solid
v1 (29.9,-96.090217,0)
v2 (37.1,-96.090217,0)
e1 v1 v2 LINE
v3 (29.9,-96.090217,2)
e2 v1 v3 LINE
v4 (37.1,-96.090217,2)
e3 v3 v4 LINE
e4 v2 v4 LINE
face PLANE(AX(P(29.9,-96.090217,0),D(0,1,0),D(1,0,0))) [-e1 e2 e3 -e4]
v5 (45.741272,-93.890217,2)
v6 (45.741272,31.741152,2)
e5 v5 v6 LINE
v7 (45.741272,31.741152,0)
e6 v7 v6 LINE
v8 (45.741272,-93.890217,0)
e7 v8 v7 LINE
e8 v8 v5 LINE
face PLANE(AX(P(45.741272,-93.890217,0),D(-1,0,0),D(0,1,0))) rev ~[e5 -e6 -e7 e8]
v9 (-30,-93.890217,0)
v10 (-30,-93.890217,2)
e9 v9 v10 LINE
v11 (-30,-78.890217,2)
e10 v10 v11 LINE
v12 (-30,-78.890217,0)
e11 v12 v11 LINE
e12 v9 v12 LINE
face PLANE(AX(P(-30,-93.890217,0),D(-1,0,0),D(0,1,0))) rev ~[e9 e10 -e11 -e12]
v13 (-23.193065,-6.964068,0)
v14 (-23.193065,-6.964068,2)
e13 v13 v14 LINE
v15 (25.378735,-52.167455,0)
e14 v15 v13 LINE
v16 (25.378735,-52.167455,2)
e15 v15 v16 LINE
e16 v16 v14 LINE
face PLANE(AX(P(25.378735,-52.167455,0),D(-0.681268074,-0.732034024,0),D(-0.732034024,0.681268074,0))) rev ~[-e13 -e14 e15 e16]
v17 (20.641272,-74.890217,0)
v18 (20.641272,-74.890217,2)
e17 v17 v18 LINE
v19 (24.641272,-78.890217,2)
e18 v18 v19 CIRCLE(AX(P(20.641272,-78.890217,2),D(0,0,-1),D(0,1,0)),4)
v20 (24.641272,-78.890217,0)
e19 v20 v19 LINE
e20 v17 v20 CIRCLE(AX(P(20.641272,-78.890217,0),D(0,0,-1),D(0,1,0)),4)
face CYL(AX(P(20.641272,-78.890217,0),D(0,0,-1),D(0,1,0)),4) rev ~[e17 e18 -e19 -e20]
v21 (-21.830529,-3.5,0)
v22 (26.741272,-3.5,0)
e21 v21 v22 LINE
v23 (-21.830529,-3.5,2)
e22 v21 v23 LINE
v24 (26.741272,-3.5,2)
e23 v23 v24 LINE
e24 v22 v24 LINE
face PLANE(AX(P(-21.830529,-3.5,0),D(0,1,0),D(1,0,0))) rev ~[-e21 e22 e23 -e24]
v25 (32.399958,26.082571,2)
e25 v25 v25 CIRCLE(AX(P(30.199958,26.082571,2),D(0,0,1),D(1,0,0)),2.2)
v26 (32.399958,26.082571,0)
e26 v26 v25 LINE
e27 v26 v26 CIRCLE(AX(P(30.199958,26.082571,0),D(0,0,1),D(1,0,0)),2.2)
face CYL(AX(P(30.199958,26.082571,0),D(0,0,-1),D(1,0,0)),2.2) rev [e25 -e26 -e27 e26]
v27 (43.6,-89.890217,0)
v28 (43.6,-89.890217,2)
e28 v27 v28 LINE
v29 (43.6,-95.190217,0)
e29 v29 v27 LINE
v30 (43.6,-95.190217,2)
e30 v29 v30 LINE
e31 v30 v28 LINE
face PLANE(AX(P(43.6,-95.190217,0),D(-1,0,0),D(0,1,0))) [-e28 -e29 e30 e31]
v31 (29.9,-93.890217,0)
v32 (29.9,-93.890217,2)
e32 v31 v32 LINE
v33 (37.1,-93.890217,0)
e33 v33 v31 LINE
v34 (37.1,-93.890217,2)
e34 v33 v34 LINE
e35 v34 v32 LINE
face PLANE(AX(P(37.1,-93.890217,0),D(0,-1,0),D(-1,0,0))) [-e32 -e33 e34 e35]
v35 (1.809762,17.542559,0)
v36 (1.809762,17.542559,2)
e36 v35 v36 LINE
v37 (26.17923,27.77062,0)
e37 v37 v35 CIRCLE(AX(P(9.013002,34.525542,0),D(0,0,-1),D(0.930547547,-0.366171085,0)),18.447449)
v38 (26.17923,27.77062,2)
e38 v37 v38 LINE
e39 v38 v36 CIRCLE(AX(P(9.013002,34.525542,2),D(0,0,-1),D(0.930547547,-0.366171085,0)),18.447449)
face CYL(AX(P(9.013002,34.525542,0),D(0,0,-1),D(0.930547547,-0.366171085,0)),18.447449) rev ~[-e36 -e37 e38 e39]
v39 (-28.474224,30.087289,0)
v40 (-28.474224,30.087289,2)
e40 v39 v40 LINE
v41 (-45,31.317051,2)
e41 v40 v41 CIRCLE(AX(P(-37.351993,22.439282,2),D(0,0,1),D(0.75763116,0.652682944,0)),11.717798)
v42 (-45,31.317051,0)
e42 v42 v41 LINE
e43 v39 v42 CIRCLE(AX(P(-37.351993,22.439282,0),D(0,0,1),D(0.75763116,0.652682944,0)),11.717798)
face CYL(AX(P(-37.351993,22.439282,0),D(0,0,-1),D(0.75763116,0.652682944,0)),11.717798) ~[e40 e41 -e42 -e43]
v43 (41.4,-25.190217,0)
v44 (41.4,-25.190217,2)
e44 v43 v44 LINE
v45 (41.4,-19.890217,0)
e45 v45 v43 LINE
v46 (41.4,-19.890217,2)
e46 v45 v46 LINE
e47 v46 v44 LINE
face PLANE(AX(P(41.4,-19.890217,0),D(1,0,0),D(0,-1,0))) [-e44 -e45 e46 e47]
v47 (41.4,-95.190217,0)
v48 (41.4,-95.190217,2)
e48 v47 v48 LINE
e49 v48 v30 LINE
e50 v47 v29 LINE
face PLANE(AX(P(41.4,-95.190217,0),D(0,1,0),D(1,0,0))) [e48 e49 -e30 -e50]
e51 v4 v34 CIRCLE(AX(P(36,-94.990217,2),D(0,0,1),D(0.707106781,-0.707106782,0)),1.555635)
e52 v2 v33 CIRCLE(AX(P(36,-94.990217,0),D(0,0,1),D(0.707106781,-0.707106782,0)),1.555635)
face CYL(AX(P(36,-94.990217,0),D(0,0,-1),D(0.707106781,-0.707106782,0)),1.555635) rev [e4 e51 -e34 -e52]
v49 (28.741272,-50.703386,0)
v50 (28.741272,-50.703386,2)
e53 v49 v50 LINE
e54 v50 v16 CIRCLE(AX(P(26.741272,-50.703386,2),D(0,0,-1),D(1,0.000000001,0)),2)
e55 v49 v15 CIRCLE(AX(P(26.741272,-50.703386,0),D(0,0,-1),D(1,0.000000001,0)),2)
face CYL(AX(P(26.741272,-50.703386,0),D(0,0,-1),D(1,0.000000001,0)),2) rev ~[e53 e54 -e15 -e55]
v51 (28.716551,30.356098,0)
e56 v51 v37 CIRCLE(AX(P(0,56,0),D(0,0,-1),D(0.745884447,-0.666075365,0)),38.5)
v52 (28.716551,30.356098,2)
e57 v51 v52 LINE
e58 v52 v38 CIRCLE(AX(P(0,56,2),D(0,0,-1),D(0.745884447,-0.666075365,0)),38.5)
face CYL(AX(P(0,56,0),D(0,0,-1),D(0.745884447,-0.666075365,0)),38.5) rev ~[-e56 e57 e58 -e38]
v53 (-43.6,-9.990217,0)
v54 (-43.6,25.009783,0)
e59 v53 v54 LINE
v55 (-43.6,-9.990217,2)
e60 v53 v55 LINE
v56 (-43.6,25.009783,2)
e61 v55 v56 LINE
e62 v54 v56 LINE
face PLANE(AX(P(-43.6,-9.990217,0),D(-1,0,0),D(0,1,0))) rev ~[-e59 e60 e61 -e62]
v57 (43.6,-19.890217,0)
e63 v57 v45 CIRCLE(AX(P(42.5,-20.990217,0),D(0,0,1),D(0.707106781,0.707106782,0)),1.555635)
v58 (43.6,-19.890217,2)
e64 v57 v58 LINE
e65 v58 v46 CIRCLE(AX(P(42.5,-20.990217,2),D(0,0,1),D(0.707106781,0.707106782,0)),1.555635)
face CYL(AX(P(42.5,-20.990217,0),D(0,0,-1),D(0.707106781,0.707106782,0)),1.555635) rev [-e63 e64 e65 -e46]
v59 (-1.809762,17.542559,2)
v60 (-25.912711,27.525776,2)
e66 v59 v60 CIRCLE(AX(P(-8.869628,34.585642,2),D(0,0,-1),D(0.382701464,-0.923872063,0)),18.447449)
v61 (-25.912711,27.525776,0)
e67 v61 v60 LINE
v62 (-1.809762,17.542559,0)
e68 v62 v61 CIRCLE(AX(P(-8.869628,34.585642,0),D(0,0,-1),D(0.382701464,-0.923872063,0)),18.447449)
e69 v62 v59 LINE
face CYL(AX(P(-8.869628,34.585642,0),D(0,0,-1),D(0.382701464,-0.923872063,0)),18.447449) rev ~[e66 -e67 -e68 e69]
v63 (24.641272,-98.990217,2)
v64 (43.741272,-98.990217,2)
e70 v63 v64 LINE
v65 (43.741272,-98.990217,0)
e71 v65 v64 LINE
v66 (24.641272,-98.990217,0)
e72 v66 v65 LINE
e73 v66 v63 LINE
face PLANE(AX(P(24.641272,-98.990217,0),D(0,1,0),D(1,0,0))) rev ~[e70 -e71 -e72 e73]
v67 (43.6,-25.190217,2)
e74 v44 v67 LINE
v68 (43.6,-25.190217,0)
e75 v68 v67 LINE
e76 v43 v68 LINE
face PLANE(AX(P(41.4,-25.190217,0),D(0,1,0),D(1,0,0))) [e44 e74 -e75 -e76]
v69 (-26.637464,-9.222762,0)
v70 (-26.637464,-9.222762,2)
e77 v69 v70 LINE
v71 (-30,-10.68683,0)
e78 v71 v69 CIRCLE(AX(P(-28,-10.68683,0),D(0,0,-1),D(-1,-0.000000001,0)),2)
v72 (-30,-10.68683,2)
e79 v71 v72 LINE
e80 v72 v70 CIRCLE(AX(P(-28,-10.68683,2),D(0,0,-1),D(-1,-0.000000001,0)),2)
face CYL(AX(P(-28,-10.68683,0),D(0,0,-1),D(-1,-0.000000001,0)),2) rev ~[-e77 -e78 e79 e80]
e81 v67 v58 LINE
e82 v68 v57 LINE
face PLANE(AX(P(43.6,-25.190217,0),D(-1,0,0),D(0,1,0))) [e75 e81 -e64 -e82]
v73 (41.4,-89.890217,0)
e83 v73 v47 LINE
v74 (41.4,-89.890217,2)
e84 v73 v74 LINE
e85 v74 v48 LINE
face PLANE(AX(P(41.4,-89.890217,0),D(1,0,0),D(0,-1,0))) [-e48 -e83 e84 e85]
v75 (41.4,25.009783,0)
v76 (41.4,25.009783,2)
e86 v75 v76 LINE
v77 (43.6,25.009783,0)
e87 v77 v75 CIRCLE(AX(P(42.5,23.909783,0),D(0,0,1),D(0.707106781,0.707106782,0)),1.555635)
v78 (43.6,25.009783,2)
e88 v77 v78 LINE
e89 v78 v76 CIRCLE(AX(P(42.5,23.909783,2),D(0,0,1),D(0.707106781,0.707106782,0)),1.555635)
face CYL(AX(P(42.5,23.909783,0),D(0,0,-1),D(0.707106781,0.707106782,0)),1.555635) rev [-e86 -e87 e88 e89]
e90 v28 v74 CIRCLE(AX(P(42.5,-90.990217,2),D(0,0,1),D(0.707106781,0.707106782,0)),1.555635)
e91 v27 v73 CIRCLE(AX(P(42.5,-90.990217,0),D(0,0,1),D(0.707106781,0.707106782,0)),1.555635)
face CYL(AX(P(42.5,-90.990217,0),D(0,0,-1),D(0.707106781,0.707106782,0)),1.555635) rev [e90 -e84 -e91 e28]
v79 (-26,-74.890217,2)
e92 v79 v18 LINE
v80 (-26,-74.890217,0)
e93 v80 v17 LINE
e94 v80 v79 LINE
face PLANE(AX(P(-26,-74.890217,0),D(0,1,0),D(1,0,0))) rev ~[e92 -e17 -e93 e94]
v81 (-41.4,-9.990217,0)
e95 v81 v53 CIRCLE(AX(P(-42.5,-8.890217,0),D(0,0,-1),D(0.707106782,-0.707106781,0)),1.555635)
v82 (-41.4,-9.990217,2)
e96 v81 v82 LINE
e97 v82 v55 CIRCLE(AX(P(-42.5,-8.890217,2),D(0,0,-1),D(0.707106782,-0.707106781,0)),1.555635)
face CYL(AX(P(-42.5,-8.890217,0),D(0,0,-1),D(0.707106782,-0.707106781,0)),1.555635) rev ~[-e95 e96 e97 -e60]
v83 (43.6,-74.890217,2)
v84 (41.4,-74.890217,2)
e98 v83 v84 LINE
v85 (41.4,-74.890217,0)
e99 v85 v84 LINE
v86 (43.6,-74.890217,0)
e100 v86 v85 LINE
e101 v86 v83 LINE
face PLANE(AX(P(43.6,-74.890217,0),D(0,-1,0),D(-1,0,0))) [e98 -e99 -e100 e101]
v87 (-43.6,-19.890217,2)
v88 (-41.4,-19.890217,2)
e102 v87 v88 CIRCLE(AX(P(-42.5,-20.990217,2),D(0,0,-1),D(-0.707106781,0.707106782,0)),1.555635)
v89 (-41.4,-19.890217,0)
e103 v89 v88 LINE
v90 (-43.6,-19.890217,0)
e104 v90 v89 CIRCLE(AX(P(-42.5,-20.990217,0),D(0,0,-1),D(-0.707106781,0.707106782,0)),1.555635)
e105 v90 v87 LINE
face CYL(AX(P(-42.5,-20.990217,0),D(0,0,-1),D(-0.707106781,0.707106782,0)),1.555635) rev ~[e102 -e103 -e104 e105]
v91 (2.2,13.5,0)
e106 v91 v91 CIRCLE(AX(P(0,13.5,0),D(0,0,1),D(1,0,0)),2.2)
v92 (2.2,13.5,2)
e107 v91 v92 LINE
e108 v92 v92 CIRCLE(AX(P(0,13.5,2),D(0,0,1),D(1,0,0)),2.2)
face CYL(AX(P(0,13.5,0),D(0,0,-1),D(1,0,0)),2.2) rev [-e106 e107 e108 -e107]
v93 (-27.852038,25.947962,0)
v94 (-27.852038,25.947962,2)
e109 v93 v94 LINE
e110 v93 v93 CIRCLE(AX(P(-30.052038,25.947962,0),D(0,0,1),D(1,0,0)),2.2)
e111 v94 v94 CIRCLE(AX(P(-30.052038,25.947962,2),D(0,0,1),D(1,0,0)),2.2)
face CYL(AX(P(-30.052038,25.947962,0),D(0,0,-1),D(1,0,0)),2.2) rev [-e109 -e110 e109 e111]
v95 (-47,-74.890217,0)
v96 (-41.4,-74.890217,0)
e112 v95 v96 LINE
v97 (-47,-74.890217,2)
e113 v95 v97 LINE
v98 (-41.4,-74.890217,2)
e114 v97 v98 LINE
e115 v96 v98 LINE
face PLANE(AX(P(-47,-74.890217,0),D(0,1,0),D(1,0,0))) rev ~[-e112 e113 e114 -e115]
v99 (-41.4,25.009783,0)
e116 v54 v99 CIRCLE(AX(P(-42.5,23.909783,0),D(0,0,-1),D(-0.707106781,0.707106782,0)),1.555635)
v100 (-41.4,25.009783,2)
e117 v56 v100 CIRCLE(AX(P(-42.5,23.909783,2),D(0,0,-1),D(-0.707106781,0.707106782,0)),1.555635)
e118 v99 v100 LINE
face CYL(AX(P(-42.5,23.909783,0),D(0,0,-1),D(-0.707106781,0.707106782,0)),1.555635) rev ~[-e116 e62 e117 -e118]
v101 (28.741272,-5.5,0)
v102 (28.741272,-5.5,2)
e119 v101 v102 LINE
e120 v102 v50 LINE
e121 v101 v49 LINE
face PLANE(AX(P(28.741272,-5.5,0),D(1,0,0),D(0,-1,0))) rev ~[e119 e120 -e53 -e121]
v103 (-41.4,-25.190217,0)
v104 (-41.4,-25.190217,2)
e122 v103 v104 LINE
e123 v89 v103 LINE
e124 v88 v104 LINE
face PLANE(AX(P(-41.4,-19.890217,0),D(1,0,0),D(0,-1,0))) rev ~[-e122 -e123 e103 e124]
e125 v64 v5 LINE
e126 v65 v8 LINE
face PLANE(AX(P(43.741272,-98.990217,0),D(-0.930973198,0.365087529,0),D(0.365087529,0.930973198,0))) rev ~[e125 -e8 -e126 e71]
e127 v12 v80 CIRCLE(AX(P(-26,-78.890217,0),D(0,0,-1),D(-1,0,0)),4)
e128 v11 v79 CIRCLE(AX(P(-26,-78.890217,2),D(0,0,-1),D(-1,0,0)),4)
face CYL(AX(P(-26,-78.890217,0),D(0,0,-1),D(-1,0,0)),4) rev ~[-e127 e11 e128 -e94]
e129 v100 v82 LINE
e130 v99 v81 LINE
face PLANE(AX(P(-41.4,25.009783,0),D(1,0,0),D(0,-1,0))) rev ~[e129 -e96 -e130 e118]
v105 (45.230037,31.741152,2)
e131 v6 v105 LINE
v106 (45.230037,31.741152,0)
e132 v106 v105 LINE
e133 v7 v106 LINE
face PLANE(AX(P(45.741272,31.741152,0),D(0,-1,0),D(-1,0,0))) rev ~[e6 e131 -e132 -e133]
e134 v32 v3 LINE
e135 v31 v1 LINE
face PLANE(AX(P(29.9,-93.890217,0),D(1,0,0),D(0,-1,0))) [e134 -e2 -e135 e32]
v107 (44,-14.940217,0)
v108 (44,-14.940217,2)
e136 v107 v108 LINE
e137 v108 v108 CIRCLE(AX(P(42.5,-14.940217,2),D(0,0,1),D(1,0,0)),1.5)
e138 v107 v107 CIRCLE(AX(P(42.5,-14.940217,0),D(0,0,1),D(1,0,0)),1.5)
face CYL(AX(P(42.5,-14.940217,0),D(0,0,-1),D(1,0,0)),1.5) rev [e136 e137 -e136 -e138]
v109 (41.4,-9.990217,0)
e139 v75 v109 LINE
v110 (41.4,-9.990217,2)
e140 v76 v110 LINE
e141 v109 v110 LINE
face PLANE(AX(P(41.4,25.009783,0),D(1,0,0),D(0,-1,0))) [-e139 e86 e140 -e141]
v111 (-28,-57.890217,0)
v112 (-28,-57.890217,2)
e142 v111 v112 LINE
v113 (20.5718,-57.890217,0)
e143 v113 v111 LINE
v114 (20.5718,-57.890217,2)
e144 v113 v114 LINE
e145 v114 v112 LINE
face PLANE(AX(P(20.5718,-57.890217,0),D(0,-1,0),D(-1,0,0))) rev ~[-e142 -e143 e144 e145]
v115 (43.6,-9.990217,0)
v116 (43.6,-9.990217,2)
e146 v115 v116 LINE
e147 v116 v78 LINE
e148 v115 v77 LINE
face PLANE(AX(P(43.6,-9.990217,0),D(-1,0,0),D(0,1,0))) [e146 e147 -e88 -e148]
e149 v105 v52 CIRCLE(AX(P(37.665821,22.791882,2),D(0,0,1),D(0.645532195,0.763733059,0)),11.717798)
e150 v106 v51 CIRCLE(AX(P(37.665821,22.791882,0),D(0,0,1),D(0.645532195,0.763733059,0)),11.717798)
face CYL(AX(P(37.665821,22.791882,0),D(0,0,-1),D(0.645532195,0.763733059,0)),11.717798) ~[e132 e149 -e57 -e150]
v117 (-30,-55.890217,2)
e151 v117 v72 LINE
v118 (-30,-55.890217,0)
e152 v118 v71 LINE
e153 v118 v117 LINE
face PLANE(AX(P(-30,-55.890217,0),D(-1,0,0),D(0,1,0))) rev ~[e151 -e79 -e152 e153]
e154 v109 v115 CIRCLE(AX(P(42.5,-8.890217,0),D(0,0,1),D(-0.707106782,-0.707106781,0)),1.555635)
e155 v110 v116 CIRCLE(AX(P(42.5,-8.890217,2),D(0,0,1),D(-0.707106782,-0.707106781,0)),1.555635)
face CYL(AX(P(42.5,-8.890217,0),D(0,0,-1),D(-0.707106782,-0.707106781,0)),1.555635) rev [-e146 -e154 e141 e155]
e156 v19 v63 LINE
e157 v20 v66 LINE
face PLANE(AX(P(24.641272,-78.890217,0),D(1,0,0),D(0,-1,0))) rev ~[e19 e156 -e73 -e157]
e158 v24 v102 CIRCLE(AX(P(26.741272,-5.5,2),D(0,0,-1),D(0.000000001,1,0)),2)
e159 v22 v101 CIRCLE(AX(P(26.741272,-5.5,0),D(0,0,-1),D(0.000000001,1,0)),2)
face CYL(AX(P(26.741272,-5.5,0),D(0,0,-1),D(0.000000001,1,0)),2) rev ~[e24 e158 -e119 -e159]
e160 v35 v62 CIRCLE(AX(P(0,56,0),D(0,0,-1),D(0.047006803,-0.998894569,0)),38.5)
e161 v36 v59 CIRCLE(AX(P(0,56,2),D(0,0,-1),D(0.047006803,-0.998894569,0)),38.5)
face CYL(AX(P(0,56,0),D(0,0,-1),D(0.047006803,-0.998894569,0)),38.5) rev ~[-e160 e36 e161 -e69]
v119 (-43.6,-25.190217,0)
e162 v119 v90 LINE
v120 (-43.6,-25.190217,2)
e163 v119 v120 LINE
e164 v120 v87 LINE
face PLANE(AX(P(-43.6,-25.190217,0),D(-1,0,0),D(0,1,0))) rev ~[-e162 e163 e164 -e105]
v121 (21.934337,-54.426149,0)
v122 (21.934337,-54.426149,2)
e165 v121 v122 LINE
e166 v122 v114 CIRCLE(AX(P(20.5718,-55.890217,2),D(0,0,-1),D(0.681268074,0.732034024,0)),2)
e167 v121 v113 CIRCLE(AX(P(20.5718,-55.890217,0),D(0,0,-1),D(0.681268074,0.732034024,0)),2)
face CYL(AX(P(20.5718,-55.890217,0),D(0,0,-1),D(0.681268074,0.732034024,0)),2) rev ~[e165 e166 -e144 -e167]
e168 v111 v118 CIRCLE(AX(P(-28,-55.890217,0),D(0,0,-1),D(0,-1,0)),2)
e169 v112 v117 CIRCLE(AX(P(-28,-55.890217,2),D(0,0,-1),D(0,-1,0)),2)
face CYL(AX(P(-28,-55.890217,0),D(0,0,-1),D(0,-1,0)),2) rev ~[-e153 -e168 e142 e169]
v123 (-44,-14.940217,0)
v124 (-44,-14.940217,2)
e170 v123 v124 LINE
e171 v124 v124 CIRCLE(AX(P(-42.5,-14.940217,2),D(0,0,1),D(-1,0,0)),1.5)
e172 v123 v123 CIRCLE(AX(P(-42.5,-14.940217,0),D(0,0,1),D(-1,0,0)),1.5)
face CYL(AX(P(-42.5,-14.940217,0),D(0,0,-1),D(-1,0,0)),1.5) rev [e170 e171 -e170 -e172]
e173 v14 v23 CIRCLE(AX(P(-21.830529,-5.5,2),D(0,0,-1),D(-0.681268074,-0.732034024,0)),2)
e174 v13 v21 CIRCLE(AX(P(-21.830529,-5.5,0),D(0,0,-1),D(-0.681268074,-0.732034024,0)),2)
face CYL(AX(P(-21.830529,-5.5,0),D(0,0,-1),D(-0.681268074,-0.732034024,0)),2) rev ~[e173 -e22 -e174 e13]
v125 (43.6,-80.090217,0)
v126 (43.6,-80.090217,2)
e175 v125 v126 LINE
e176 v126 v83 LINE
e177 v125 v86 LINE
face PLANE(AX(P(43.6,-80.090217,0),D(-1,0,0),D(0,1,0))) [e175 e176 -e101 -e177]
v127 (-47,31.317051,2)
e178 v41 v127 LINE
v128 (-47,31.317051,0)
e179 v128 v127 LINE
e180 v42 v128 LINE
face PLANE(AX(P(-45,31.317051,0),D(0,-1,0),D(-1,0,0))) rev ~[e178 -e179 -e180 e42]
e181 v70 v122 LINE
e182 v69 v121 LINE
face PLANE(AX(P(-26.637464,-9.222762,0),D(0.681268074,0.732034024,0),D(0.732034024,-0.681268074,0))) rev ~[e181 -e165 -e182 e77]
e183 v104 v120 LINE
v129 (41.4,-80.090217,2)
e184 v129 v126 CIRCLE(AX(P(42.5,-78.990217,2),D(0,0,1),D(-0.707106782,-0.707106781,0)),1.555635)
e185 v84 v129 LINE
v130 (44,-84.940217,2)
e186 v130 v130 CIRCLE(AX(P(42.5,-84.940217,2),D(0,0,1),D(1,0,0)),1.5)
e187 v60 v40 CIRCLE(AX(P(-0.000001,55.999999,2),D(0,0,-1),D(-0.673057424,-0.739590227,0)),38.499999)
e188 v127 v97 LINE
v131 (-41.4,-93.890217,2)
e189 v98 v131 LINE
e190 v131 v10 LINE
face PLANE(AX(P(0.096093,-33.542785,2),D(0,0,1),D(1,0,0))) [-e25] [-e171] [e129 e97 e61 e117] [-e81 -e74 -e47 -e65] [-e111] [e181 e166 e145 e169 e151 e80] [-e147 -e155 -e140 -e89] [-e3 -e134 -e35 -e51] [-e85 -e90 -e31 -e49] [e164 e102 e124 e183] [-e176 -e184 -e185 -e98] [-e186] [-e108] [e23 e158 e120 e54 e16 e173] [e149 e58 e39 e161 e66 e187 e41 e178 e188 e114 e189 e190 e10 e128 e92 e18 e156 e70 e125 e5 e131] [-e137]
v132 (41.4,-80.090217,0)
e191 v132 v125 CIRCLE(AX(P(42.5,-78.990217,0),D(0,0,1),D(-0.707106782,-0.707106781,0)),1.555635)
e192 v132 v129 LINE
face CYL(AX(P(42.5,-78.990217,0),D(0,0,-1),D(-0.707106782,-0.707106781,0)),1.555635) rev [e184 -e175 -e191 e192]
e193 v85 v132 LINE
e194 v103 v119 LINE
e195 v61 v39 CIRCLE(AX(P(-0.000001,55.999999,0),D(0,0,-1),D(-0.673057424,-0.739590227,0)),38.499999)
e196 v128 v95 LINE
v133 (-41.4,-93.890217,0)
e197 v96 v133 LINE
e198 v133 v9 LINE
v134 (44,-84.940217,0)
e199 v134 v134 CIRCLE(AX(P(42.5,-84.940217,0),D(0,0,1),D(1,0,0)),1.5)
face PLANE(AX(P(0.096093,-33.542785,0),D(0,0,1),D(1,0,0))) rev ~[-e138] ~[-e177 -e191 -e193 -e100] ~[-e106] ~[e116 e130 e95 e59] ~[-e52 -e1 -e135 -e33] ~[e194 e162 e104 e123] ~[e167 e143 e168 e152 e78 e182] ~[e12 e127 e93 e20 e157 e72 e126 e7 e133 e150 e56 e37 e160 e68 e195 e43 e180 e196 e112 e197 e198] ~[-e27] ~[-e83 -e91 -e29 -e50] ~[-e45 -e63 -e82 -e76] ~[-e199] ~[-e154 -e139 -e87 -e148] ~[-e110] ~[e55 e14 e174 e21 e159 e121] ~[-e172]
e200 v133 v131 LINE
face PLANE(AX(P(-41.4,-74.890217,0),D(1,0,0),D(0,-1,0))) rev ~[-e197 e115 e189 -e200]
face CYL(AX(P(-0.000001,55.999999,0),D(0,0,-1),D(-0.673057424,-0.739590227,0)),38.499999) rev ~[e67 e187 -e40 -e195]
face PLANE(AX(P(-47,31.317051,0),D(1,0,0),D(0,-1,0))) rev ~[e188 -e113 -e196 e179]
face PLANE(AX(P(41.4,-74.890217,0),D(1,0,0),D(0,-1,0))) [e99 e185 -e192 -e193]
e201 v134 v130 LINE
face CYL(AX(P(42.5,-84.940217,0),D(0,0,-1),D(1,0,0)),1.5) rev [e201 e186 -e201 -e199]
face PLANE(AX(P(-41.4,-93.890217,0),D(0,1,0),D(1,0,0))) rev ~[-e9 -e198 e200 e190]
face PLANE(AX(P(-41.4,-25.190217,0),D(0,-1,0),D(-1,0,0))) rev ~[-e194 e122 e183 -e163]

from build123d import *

# Parameters (mm, degrees)
SKETCH_3_R      = 2.2
SKETCH_3_R_2    = 1.5
EXTRUDE_1_DEPTH = 2


with BuildPart() as part:
    # 草图3 → 凸台-拉伸1 (new body)
    with BuildSketch(Plane.XY):
        with BuildLine():
            Line((-41.4, -74.890216685), (-41.4, -93.890216685))
            Line((-41.4, -93.890216685), (-30, -93.890216685))
            Line((-30, -93.890216685), (-30, -78.890216685))
            ThreePointArc((-30, -78.890216685), (-28.828427125, -76.061789561), (-26, -74.890216685))
            Line((-26, -74.890216685), (20.641271636, -74.890216685))
            ThreePointArc((20.641271636, -74.890216685), (23.469698761, -76.061789561), (24.641271636, -78.890216685))
            Line((24.641271636, -78.890216685), (24.641271636, -93.890216685))
            Line((24.641271636, -93.890216685), (24.641271636, -97.990216685))
            Line((24.641271636, -97.990216685), (24.641271636, -98.990216685))
            Line((24.641271636, -98.990216685), (43.741271636, -98.990216685))
            Line((43.741271636, -98.990216685), (45.741271636, -93.890216685))
            Line((45.741271636, -93.890216685), (45.741271636, 31.741152315))
            Line((45.741271636, 31.741152315), (45.230037269, 31.741152315))
            ThreePointArc((45.230037269, 31.741152315), (36.686440181, 34.468680322), (28.716551195, 30.356098435))
            ThreePointArc((28.716551195, 30.356098435), (27.478316584, 29.033500084), (26.179230338, 27.770619934))
            ThreePointArc((26.179230338, 27.770619934), (16.152230905, 17.515551518), (1.809761925, 17.542559084))
            ThreePointArc((1.809761925, 17.542559084), (0, 17.5), (-1.809761925, 17.542559084))
            ThreePointArc((-1.809761925, 17.542559084), (-15.928828372, 17.542283516), (-25.912710857, 27.525776288))
            ThreePointArc((-25.912710857, 27.525776288), (-27.223611076, 28.776388924), (-28.474223712, 30.087289143))
            ThreePointArc((-28.474223712, 30.087289143), (-36.482419799, 34.124770496), (-45, 31.317051182))
            Line((-45, 31.317051182), (-47, 31.317051182))
            Line((-47, 31.317051182), (-47, -74.890216685))
            Line((-47, -74.890216685), (-41.4, -74.890216685))
        make_face()
        with Locations((0, 13.5)):
            Circle(SKETCH_3_R, mode=Mode.SUBTRACT)
        with Locations((-30.052038202, 25.947961669)):
            Circle(SKETCH_3_R, mode=Mode.SUBTRACT)
        with Locations((30.199957913, 26.082571452)):
            Circle(SKETCH_3_R, mode=Mode.SUBTRACT)
        with Locations((42.5, -14.940216685)):
            Circle(SKETCH_3_R_2, mode=Mode.SUBTRACT)
        with Locations(Location((-42.5, -14.940216685, 0), (0, 0, 180))):
            Circle(SKETCH_3_R_2, mode=Mode.SUBTRACT)
        with Locations((42.5, -84.940216685)):
            Circle(SKETCH_3_R_2, mode=Mode.SUBTRACT)
        with BuildLine():
            Line((-43.6, -9.990216685), (-43.6, 25.009783315))
            ThreePointArc((-43.6, 25.009783315), (-42.5, 25.465418233), (-41.4, 25.009783315))
            Line((-41.4, 25.009783315), (-41.4, -9.990216685))
            ThreePointArc((-41.4, -9.990216685), (-42.5, -10.445851604), (-43.6, -9.990216685))
        make_face(mode=Mode.SUBTRACT)
        with BuildLine():
            Line((-41.4, -19.890216685), (-41.4, -25.190216685))
            Line((-41.4, -25.190216685), (-43.6, -25.190216685))
            Line((-43.6, -25.190216685), (-43.6, -19.890216685))
            ThreePointArc((-43.6, -19.890216685), (-42.5, -19.434581767), (-41.4, -19.890216685))
        make_face(mode=Mode.SUBTRACT)
        with BuildLine():
            Line((37.1, -93.890216685), (29.9, -93.890216685))
            Line((29.9, -93.890216685), (29.9, -96.090216685))
            Line((29.9, -96.090216685), (37.1, -96.090216685))
            ThreePointArc((37.1, -96.090216685), (37.555634919, -94.990216685), (37.1, -93.890216685))
        make_face(mode=Mode.SUBTRACT)
        with BuildLine():
            Line((43.6, -25.190216685), (43.6, -19.890216685))
            ThreePointArc((43.6, -19.890216685), (42.5, -19.434581767), (41.4, -19.890216685))
            Line((41.4, -19.890216685), (41.4, -25.190216685))
            Line((41.4, -25.190216685), (43.6, -25.190216685))
        make_face(mode=Mode.SUBTRACT)
        with BuildLine():
            Line((43.6, -95.190216685), (43.6, -89.890216685))
            ThreePointArc((43.6, -89.890216685), (42.5, -89.434581767), (41.4, -89.890216685))
            Line((41.4, -89.890216685), (41.4, -95.190216685))
            Line((41.4, -95.190216685), (43.6, -95.190216685))
        make_face(mode=Mode.SUBTRACT)
        with BuildLine():
            Line((41.4, -74.890216685), (41.4, -80.090216685))
            ThreePointArc((41.4, -80.090216685), (42.5, -80.545851604), (43.6, -80.090216685))
            Line((43.6, -80.090216685), (43.6, -74.890216685))
            Line((43.6, -74.890216685), (41.4, -74.890216685))
        make_face(mode=Mode.SUBTRACT)
        with BuildLine():
            Line((41.4, 25.009783315), (41.4, -9.990216685))
            ThreePointArc((41.4, -9.990216685), (42.5, -10.445851604), (43.6, -9.990216685))
            Line((43.6, -9.990216685), (43.6, 25.009783315))
            ThreePointArc((43.6, 25.009783315), (42.5, 25.465418233), (41.4, 25.009783315))
        make_face(mode=Mode.SUBTRACT)
        with BuildLine():
            Line((-21.830528741, -3.5), (26.741271636, -3.5))
            ThreePointArc((26.741271636, -3.5), (28.155485198, -4.085786438), (28.741271636, -5.5))
            Line((28.741271636, -5.5), (28.741271636, -50.70338646))
            ThreePointArc((28.741271636, -50.70338646), (27.539684971, -52.537108399), (25.378735489, -52.167454508))
            Line((25.378735489, -52.167454508), (-23.193064888, -6.964068047))
            ThreePointArc((-23.193064888, -6.964068047), (-23.691729441, -4.767926266), (-21.830528741, -3.5))
        make_face(mode=Mode.SUBTRACT)
        with BuildLine():
            Line((-26.637463853, -9.222762177), (21.934336524, -54.426148638))
            ThreePointArc((21.934336524, -54.426148638), (22.433001077, -56.62229042), (20.571800377, -57.890216685))
            Line((20.571800377, -57.890216685), (-28, -57.890216685))
            ThreePointArc((-28, -57.890216685), (-29.414213562, -57.304430248), (-30, -55.890216685))
            Line((-30, -55.890216685), (-30, -10.686830225))
            ThreePointArc((-30, -10.686830225), (-28.798413335, -8.853108286), (-26.637463853, -9.222762177))
        make_face(mode=Mode.SUBTRACT)
    extrude(amount=EXTRUDE_1_DEPTH)


solid = part.part
